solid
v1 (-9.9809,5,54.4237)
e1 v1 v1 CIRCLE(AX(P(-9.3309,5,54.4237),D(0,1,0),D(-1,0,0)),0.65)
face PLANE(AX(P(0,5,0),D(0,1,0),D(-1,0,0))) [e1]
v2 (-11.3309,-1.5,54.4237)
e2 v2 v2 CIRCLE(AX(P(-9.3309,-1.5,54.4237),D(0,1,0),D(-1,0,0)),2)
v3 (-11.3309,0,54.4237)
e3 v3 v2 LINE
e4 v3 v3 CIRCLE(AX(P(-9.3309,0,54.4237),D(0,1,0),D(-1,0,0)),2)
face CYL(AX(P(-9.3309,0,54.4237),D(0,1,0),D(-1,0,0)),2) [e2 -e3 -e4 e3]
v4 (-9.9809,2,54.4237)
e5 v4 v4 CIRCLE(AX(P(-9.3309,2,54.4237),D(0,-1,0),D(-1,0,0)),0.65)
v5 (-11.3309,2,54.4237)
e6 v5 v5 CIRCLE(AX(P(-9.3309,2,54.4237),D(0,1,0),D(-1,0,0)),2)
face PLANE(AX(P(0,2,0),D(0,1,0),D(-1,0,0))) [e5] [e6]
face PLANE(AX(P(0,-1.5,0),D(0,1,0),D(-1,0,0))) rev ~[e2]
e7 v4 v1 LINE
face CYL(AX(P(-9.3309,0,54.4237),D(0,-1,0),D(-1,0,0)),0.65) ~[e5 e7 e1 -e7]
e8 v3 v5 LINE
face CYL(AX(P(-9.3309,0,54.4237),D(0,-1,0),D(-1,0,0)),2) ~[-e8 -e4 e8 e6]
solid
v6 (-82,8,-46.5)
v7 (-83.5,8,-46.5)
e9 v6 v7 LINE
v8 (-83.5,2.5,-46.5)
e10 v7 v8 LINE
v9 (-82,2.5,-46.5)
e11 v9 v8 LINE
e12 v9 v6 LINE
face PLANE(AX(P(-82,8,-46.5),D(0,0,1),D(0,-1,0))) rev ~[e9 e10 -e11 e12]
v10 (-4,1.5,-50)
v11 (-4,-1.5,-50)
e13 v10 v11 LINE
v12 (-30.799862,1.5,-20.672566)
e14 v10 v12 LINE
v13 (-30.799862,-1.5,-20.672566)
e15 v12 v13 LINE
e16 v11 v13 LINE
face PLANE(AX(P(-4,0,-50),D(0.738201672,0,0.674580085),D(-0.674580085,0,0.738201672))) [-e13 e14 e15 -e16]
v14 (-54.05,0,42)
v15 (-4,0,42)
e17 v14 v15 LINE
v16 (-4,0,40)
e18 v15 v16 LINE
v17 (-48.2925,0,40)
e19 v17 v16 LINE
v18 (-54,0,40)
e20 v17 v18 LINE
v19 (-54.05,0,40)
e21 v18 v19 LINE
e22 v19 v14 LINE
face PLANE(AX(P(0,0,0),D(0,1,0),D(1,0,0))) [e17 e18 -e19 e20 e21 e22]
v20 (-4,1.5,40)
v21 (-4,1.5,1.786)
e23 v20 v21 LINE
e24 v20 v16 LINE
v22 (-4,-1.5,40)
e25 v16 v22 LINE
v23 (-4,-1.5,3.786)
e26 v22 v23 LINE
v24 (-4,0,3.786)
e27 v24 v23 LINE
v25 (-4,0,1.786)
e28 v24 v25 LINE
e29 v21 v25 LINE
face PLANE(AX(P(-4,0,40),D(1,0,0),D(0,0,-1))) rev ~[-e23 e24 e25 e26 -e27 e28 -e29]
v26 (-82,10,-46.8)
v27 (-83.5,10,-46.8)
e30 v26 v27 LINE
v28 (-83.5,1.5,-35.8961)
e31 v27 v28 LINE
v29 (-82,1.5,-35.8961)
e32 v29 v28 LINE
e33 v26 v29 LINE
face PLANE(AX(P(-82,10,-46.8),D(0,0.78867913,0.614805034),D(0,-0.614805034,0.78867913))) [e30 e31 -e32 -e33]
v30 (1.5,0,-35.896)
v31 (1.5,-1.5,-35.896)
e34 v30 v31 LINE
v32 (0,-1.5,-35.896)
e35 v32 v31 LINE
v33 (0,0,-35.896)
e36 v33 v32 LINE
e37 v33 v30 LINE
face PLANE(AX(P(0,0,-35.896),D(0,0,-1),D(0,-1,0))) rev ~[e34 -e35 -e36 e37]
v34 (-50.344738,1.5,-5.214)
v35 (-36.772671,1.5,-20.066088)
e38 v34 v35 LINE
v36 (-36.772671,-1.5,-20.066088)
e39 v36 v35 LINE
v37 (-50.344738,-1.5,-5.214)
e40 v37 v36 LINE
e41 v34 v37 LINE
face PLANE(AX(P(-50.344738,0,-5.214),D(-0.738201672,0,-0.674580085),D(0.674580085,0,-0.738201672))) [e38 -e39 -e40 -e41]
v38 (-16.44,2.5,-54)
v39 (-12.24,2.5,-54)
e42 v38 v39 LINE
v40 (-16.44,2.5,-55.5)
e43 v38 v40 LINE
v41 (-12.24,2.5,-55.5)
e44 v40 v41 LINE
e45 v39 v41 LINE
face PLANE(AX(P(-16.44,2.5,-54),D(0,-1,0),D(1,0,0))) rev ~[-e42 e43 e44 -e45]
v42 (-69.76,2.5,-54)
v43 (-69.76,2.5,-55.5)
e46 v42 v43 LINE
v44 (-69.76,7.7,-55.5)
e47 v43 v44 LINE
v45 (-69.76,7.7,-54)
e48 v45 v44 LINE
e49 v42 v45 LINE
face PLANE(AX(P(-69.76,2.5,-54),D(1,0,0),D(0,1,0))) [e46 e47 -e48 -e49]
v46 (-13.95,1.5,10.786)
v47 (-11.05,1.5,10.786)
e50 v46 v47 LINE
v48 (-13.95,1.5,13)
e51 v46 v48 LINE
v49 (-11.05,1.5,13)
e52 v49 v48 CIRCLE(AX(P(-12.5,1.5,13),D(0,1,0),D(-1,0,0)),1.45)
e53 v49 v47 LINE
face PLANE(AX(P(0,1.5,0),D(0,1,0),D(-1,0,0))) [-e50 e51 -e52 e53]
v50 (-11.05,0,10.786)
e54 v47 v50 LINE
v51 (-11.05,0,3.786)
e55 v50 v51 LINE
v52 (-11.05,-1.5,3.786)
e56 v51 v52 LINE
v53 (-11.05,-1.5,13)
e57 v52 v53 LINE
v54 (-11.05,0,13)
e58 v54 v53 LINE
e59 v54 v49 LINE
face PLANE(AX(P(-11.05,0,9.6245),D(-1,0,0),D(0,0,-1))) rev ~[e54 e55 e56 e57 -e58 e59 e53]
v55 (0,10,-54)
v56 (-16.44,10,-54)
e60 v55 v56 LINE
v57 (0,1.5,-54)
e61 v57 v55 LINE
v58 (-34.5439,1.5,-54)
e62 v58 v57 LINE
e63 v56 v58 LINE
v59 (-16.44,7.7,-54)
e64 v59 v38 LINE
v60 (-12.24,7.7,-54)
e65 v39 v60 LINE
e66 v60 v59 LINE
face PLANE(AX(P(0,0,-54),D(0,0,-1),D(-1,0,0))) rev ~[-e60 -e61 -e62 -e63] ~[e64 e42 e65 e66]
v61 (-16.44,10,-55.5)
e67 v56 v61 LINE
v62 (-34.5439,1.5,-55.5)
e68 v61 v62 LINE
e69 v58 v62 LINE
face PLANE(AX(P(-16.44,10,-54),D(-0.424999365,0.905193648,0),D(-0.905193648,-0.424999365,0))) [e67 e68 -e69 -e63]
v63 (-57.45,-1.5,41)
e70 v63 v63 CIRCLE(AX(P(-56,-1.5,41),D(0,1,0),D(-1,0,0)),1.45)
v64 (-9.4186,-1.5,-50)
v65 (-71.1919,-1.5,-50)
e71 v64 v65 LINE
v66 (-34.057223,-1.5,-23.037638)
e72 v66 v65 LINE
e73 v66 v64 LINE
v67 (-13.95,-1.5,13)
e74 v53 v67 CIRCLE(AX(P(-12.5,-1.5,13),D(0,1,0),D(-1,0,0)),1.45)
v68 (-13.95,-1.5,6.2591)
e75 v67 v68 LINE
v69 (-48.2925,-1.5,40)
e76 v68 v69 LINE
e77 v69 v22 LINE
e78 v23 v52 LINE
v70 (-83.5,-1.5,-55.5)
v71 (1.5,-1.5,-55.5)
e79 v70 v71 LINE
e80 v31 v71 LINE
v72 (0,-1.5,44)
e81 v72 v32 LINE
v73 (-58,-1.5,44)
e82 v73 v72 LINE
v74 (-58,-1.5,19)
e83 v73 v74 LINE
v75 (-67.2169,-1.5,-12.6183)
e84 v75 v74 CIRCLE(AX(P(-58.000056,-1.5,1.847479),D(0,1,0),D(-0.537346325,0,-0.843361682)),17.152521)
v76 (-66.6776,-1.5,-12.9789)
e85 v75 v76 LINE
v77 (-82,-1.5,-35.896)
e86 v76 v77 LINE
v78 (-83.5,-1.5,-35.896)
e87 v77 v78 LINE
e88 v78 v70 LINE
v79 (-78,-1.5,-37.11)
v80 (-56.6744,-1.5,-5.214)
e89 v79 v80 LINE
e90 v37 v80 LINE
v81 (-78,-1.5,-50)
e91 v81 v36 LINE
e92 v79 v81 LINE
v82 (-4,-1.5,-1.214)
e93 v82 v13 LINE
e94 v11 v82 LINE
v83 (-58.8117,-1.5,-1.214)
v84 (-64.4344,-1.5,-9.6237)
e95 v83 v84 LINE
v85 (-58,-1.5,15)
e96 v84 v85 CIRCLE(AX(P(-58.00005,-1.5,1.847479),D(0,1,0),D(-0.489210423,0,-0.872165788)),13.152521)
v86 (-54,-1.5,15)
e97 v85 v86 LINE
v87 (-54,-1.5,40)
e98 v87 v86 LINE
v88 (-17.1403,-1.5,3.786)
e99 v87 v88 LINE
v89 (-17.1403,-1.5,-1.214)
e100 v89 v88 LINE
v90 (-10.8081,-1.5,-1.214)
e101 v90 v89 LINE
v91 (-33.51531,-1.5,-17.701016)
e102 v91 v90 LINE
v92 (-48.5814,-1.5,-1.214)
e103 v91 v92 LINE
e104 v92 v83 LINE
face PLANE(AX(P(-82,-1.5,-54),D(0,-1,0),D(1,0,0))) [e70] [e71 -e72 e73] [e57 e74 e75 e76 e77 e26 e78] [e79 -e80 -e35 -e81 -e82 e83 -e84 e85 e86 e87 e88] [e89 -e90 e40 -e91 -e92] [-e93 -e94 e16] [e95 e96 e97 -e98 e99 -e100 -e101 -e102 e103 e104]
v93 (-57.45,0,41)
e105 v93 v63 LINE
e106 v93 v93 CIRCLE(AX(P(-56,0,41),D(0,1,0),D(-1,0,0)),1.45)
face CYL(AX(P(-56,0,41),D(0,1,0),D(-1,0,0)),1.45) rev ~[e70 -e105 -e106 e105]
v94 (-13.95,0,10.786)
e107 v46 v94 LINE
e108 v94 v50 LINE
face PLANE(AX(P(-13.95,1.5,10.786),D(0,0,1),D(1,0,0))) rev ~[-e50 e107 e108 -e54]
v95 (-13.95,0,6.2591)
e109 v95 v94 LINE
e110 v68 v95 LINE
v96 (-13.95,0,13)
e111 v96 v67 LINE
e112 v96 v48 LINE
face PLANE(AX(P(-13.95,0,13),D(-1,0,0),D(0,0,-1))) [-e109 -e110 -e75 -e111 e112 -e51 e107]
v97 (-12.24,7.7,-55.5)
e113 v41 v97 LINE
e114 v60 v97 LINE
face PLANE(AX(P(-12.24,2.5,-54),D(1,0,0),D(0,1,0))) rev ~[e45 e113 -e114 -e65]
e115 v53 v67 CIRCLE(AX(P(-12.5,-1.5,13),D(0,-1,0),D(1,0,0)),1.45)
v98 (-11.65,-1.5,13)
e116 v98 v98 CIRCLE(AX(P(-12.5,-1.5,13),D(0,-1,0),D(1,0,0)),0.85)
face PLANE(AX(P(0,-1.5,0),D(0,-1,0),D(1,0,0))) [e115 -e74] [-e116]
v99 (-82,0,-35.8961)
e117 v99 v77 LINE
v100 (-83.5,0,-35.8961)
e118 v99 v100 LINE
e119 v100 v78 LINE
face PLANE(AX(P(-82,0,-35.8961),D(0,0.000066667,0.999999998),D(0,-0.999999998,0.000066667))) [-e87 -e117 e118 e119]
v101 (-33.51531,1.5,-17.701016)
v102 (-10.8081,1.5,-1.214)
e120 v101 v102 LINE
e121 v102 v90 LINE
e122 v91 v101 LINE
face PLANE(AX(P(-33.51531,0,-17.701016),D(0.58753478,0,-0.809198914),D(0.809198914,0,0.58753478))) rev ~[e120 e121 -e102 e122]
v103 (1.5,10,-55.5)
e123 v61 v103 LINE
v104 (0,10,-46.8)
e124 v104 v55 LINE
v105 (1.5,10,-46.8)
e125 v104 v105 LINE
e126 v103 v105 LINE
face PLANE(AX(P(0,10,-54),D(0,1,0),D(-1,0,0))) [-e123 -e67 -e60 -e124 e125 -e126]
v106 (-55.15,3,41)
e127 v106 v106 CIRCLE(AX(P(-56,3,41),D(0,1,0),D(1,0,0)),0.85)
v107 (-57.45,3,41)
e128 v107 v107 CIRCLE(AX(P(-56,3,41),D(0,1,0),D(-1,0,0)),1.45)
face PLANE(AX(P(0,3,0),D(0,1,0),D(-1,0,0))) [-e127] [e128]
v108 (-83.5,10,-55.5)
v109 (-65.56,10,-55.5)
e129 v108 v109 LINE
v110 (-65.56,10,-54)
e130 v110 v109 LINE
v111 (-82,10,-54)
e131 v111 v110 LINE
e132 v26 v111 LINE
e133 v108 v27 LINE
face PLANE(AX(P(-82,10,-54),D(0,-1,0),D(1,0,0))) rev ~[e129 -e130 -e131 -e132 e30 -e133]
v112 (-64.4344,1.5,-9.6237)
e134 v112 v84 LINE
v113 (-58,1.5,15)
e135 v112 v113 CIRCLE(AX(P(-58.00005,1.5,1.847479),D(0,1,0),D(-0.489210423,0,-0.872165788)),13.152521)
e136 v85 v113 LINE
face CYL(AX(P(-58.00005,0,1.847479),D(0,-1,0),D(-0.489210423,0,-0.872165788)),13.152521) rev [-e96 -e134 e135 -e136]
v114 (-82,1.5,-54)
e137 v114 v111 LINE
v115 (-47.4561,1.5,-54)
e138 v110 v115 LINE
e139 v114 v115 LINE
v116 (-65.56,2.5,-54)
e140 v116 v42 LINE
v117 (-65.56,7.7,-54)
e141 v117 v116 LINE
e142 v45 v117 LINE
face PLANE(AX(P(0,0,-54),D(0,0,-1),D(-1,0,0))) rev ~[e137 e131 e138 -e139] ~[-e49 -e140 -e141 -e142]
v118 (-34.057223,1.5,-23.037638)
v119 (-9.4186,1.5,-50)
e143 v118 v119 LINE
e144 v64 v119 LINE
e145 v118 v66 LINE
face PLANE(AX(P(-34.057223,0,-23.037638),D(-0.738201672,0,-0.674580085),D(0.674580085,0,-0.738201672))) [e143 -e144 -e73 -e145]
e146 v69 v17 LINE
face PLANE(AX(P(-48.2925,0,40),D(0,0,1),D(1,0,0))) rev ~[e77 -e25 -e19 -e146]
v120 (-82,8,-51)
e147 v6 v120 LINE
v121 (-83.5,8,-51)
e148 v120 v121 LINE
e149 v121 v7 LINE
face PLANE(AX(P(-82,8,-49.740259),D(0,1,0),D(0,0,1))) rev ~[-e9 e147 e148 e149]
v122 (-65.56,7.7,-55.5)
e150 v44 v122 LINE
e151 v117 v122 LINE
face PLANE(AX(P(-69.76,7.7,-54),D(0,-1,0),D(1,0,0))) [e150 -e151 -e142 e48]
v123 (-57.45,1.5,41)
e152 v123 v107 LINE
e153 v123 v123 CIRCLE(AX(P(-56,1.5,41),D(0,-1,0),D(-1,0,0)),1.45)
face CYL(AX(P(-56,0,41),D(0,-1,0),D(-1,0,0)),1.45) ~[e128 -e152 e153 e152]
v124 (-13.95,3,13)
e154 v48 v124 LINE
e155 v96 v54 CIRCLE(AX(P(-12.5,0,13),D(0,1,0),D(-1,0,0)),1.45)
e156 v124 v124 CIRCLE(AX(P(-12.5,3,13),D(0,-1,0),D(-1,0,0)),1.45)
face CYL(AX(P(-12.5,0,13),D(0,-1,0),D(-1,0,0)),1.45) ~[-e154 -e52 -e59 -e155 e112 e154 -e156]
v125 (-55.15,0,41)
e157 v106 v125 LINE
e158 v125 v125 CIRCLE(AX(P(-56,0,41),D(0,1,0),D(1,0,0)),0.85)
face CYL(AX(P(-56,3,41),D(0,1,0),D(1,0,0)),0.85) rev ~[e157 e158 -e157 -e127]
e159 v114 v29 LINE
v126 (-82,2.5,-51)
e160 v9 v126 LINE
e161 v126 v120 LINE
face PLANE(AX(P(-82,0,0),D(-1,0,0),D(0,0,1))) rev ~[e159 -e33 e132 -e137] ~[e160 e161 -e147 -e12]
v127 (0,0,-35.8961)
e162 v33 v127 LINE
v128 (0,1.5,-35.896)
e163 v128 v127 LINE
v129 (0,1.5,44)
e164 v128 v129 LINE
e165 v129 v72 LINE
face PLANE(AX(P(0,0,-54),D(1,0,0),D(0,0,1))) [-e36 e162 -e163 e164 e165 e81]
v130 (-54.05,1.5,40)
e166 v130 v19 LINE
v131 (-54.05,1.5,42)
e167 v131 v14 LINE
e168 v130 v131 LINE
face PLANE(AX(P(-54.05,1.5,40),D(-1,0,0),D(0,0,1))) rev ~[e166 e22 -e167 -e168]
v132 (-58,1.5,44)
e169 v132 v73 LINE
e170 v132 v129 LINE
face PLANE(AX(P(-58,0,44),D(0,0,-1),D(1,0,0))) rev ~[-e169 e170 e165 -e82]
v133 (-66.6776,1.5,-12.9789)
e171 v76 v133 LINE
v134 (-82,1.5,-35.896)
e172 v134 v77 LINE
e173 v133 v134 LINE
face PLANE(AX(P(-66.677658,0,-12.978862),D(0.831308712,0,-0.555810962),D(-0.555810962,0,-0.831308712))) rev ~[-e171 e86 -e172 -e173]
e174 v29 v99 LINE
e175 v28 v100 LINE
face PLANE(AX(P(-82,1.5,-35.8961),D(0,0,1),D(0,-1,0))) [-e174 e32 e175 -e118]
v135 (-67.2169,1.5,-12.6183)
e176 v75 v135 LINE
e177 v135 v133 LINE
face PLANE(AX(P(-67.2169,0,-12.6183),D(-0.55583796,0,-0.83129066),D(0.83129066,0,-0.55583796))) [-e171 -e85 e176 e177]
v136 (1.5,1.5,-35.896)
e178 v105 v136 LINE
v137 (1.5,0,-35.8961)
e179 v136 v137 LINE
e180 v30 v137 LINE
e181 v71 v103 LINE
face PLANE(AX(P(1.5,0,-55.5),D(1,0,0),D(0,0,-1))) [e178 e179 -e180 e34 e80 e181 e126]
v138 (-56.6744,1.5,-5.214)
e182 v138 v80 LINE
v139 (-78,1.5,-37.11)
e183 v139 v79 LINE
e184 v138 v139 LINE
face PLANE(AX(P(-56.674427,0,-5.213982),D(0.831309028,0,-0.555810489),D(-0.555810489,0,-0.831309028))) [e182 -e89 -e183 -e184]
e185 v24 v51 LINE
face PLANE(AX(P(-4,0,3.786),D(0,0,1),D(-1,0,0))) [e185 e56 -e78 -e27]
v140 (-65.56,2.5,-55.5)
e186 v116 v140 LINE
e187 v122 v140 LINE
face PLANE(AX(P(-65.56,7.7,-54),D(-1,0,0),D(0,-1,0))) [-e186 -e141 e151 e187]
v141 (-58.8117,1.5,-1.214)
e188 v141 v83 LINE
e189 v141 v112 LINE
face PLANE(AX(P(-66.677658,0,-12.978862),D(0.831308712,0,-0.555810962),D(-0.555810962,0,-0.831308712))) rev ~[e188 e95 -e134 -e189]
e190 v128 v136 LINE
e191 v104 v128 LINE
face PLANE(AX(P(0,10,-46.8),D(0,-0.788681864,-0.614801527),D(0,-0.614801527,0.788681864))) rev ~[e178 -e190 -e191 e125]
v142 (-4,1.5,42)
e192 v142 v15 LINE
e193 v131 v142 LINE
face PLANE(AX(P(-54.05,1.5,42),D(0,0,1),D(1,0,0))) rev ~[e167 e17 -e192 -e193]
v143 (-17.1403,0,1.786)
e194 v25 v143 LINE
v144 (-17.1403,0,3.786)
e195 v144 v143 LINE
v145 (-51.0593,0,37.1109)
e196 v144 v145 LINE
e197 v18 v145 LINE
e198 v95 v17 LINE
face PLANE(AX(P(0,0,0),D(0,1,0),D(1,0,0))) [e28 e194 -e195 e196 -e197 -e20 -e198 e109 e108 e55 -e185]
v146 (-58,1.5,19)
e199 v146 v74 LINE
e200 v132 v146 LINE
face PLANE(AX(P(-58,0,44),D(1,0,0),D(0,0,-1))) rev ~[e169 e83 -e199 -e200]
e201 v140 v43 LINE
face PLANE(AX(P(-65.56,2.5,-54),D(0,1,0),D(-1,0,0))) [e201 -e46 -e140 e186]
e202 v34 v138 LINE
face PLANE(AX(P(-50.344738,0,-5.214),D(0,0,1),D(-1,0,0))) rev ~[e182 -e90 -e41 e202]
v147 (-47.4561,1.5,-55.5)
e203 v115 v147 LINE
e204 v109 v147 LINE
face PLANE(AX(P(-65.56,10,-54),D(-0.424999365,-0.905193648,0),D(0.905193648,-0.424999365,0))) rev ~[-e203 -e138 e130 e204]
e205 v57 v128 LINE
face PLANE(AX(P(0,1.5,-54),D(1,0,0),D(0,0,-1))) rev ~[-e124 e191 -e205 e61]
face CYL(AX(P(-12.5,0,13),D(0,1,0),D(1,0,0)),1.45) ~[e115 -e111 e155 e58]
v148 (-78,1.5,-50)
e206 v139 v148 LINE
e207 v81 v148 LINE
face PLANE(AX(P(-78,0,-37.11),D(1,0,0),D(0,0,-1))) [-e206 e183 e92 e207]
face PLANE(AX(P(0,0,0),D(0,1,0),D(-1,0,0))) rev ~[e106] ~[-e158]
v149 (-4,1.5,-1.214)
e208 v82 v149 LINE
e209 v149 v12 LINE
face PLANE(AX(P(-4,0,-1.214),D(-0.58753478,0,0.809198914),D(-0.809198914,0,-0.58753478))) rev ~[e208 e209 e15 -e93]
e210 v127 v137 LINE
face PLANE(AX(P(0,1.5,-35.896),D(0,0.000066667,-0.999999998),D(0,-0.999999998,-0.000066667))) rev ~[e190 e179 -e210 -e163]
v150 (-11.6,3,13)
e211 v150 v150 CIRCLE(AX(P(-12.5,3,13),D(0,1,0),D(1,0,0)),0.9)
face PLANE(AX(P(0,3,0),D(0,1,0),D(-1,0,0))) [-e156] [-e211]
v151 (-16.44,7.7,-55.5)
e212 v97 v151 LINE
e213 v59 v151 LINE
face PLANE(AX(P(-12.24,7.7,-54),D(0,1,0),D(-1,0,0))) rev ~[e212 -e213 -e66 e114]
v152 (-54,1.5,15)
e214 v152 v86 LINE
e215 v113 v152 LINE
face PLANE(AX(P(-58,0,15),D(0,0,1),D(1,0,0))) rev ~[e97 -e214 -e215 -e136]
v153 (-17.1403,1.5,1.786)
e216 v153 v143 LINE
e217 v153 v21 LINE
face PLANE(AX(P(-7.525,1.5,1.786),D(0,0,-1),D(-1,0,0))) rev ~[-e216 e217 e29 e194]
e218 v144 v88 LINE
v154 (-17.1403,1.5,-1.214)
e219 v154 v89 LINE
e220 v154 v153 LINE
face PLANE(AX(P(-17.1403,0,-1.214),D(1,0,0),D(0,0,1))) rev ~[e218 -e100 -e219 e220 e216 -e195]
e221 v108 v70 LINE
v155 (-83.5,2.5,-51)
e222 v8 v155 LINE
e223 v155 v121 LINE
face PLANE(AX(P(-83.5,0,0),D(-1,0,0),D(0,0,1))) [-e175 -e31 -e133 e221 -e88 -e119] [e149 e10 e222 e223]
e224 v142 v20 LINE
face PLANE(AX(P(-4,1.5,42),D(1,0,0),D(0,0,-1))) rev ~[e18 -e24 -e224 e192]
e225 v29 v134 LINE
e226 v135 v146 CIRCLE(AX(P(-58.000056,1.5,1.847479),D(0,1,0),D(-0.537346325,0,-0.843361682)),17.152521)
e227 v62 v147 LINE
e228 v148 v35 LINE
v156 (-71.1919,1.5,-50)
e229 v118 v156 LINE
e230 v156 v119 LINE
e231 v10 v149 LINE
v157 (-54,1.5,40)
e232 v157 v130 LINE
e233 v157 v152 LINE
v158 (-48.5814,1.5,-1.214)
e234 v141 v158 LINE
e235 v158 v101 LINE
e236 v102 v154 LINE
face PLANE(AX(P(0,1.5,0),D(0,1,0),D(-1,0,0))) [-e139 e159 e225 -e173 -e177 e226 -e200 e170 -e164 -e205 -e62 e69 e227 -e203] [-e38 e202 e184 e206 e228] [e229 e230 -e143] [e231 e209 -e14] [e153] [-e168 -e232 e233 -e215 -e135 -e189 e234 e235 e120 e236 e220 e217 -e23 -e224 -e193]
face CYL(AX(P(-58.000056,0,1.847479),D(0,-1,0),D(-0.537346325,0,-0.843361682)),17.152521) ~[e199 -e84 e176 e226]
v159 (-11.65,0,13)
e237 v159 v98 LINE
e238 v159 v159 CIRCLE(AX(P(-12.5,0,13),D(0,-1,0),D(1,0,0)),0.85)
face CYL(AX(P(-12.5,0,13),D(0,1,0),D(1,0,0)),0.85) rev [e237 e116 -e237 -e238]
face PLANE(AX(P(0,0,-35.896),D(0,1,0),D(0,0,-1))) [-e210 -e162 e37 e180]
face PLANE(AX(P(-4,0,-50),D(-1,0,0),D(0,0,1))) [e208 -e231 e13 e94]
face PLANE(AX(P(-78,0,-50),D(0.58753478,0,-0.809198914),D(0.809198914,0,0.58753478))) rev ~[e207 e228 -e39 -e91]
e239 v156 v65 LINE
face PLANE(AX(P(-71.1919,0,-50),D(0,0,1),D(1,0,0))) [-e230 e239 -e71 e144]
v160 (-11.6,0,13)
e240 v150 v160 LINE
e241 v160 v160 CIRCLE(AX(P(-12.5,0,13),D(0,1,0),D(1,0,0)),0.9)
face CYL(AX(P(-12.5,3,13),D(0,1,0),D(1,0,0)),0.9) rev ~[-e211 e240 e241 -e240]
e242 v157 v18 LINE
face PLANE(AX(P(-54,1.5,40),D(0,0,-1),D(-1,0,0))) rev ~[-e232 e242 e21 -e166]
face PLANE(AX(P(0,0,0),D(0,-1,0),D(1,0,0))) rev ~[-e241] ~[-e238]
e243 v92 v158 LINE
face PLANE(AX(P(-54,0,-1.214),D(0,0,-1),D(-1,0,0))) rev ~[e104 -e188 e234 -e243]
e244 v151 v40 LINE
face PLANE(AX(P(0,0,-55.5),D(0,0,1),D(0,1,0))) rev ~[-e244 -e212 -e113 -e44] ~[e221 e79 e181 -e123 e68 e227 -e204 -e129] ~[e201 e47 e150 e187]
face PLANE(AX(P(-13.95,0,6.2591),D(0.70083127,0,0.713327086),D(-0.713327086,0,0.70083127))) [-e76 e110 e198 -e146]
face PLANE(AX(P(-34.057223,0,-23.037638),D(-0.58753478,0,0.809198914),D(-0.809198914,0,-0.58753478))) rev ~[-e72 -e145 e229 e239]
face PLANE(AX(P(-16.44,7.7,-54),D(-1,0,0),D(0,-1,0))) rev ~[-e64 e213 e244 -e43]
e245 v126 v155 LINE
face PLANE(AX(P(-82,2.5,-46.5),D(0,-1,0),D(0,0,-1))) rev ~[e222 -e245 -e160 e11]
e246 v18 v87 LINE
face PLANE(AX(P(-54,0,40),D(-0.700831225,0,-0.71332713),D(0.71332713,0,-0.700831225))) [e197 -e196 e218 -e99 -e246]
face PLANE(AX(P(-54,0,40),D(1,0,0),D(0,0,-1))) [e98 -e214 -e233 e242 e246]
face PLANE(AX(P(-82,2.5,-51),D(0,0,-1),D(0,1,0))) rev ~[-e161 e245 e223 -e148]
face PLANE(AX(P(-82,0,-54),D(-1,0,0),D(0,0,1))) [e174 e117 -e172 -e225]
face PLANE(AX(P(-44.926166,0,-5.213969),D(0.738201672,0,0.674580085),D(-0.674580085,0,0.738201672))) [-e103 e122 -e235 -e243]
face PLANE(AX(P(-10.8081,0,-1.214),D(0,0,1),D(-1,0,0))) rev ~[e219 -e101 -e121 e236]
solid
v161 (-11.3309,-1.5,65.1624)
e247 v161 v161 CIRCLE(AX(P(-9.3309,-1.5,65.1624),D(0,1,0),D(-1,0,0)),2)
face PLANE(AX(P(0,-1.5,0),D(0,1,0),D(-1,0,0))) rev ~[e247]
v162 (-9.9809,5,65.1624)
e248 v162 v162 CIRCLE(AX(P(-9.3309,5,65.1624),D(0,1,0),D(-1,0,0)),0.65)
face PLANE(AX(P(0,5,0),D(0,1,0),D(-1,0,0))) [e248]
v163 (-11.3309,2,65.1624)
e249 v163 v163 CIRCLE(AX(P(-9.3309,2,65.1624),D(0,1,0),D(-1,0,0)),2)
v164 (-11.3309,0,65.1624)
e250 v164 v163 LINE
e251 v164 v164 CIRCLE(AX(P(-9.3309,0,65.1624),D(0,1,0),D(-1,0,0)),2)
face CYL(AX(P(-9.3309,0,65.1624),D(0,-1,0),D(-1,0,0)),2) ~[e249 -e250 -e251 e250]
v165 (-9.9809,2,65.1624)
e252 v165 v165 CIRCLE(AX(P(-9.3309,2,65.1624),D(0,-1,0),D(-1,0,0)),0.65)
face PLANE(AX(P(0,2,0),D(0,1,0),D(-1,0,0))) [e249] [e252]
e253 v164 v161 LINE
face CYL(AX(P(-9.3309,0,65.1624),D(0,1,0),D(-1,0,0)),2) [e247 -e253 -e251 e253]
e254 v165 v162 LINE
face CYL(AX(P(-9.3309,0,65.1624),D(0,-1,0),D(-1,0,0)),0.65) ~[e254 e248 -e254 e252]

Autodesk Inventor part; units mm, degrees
ref_plane "YZ Plane" through (0, 0, 0) normal (1, 0, 0) x (0, 1, 0)
ref_plane "XZ Plane" through (0, 0, 0) normal (0, 1, 0) x (-1, 0, 0)
ref_plane "XY Plane" through (0, 0, 0) normal (0, 0, 1) x (1, 0, 0)
sketch "Sketch1" plane through (0, 0, 0) normal (0, 1, 0) x (-1, 0, 0)
  line L0 (82, -54) -> (0, -54)
  line L1 (0, -54) -> (0, 0)
  line L2 (58, 44) -> (0, 44)
  line L3 (0, 44) -> (0, 0)
  circle A0 centre (56, 41) radius 1.45
  circle A1 centre (12.5, 13) radius 1.45
  line L4 (82, -54) -> (82, -35.896)
  line L5 (54.6748, -2.2232) -> (78, -37.11)
  line L6 (78, -37.11) -> (78, -50)
  line L7 (78, -50) -> (4, -50)
  line L8 (4, -50) -> (4, 0)
  line L9 (54, 40) -> (4, 40)
  line L10 (4, 40) -> (4, 0)
  line L11 (54.6748, -2.2232) -> (54, -1.214)
  line L12 (54, -1.214) -> (9.4186, -50)
  line L13 (4, -50) -> (48.5814, -1.214)
  line L14 (78, -50) -> (10.8081, -1.214)
  line L15 (4, -1.214) -> (71.1919, -50)
  line L16 (11.05, 13) -> (11.05, 9.6245)
  line L17 (13.95, 13) -> (13.95, 12.0261)
  line L18 (11.05, 9.6245) -> (11.05, 3.786)
  line L19 (13.95, 12.0261) -> (13.95, 3.786)
  line L20 (54, 40) -> (17.1403, 3.786)
  line L21 (13.95, 6.2591) -> (48.2925, 40)
  line L22 (3.6116, 3.786) -> (17.1403, 3.786)
  line L23 (4, -1.214) -> (17.1403, -1.214)
  line L24 (17.1403, -1.214) -> (17.1403, 3.786)
  line L25 (48.5814, -1.214) -> (54, -1.214)
  line L26 (44.9262, -5.214) -> (56.6744, -5.214)
  line L27 (58, 44) -> (58, 15)
  line L28 (58, 15) -> (54, 15)
  line L29 (54, 40) -> (54, 15)
  line L30 (54, -1.214) -> (58.8117, -1.214)
  line L31 (58.8117, -1.214) -> (82, -35.896)
  arc A2 (64.4344, -9.6237) -> (58, 15) centre (58, 1.8475) ccw
  arc A3 (67.2169, -12.6183) -> (58, 19) centre (58, 1.8475) ccw
  line L32 (67.2169, -12.6183) -> (66.6776, -12.9789)
  point P0 (4, 0)
  point P1 (4, 2.786)
  point P2 (54, 2.786)
  point P3 (10.2713, 40)
  point P4 (10.2713, 2.786)
  point P5 (47.7287, 40)
  point P6 (33.5153, -17.701)
  point P7 (30.7999, -20.6726)
  point P8 (34.0572, -23.0376)
  point P9 (36.7727, -20.0661)
  point P10 (13.95, 40)
  point P11 (19.4764, 40)
  point P12 (4, 3.786)
  point P13 (11.05, 3.786)
  point P14 (10.8081, -1.214)
  point P15 (50.3447, -5.214)
  point P16 (67.0734, -13.5707)
  dimension "d0" = 82
  dimension "d1" = 54
  dimension "d2" = 44
  dimension "d5" = 3
  dimension "d6" = 2.9
  dimension "d8" = 12.5
  dimension "d9" = 2.9
  dimension "d36" = 18.104
  dimension "d94" = 90
  dimension "d95" = 90
  dimension "d96" = 31
  dimension "d97" = 4
  dimension "d98" = 4
  dimension "d103" = 4
  dimension "d104" = 4
  dimension "d112" = 4
  dimension "d113" = 44.494
  dimension "d121" = 134.494
  dimension "d122" = 135.506
  dimension "d123" = 13.5287
  dimension "d124" = 13.1403
  dimension "d125" = 90
  dimension "d126" = 54.018
  dimension "d127" = 42.422
  dimension "d128" = 4
  dimension "d129" = 4
  dimension "d130" = 146.233
  dimension "d131" = 11.7482
  dimension "d132" = 25
  dimension "d133" = 51.673
  dimension "d134" = 4
  dimension "d140" = 2
  dimension "d141" = 17.1526
  dimension "d155" = 58
extrude "Extrusion1" add sketch "Sketch1" along normal blind 1.5 contours L0 L1 L3 L2 L27 L28 L29 L9 L10 L8 L7 L6 L5 L11 L30 L31 L4 | L31 A2 L27 A3 L32 | L11 L5 L26 L12 | L12 L26 L13 L25 | L12 L14 L13 L26 | L20 L22 L19 L21 L9 | L14 L7 L15 L12 | L12 L15 L13 L14 | L24 L23 L8 L10 L22 | L12 L7 L13 L15 | L13 L15 L23 L14 | L19 L22 L18 L16 A1 L17 | A0
sketch "Sketch2" plane through (0, 0, -54) normal (0, 0, -1) x (-1, 0, 0)
  line L0 (58, 0) -> (0, 0) projected
  line L1 (0, 0) -> (82, 0)
  line L2 (0, 10) -> (0, 0)
  line L3 (12.24, 7.7) -> (16.44, 7.7)
  line L4 (16.44, 7.7) -> (16.44, 2.5)
  line L5 (16.44, 2.5) -> (12.24, 2.5)
  line L6 (12.24, 2.5) -> (12.24, 7.7)
  line L7 (0, 1.5) -> (82, 1.5) projected
  line L8 (41, 10) -> (41, 0) construction
  line L9 (0, 10) -> (16.44, 10)
  line L10 (16.44, 10) -> (34.5439, 1.5)
  line L11 (58, 1.5) -> (0, 1.5) projected
  line L12 (24, 0) -> (82, 0)
  line L13 (82, 0) -> (0, 0)
  line L14 (82, 10) -> (82, 0)
  line L15 (69.76, 7.7) -> (65.56, 7.7)
  line L16 (65.56, 7.7) -> (65.56, 2.5)
  line L17 (65.56, 2.5) -> (69.76, 2.5)
  line L18 (69.76, 2.5) -> (69.76, 7.7)
  line L19 (82, 1.5) -> (0, 1.5)
  line L20 (82, 10) -> (65.56, 10)
  line L21 (65.56, 10) -> (47.4561, 1.5)
  line L22 (24, 1.5) -> (82, 1.5)
  line L23 (0, 0) -> (0, 1.5) projected
  line L24 (0, 0) -> (82, 0)
  line L25 (82, 0) -> (82, -1.5)
  line L26 (82, -1.5) -> (0, -1.5)
  line L27 (0, -1.5) -> (0, 0)
  point P0 (47.4561, 1.5)
  dimension "d13" = 10
  dimension "d14" = 12.24
  dimension "d16" = 4.2
  dimension "d17" = 5.2
  dimension "d18" = 1
  dimension "d34" = 20
  dimension "d35" = 16.44
  dimension "d137" = 1.5
extrude "Extrusion2" add sketch "Sketch2" along normal blind 1.5
sketch "Sketch4" plane through (0, 1.5, -54) normal (1, 0, 0) x (0, 0, -1)
  line L0 (0, 0) -> (0, 8.5) projected
  line L1 (-98, 0) -> (0, 0) projected
  line L2 (-18.104, 0) -> (-18.104, -1.5)
  line L3 (-98, -1.5) -> (0, -1.5) projected
  line L4 (0, 8.5) -> (1.5, 8.5) projected
  line L5 (0, 8.5) -> (-7.2, 8.5)
  line L6 (0, 0) -> (-18.104, 0) projected
  line L7 (-7.2, 8.5) -> (-18.104, 0)
  line L8 (0, -1.5) -> (-18.104, -1.5) projected
  line L9 (-18.104, -1.5) -> (1.5, -1.5)
  line L10 (0, 0) -> (1.5, 0) projected
  line L11 (1.5, -1.5) -> (1.5, 0)
  line L12 (1.5, 0) -> (-18.104, 0)
  line L13 (1.5, 0) -> (1.5, 8.5)
  line L14 (0, 8.5) -> (1.5, 8.5) projected
  line L15 (1.5, 8.5) -> (0, 8.5)
  line L16 (-18.104, -1.5) -> (-18.104, 0) projected
  line L17 (-18.104, -1.5) -> (-18.104, -3)
  line L18 (-18.104, -3) -> (1.5, -3)
  line L19 (1.5, -3) -> (1.5, -1.5)
  point P0 (-54, -1.5)
  dimension "d135" = 7.2
  dimension "d136" = 1.5
extrude "Extrusion3" add sketch "Sketch4" along normal blind 1.5 contours L1 L7 L5 L0 | L0 L4 L13 L10 | L3 L9 L19 L18 L17
sketch "Sketch6" plane through (0, 0, -55.5) normal (1, 0, 0) x (0, 0, -1)
  line L0 (-99.5, 1.5) -> (-19.604, 1.5) projected
  line L1 (-19.6039, 1.5) -> (-19.6039, 0)
  line L2 (-99.5, 0) -> (-19.604, 0) projected
  line L3 (-19.6039, 0) -> (0, 0)
  line L4 (-1.5, 10) -> (0, 10) projected
  line L5 (0, 0) -> (0, 10)
  line L6 (-19.6039, 1.5) -> (-1.5, 1.5)
  line L7 (-1.5, 1.5) -> (-1.5, 10) projected
  line L8 (-1.5, 10) -> (-1.5, 1.5)
  line L9 (0, 10) -> (-1.5, 10)
  point P0 (-55.5, 0)
  point P1 (-1.5, 0)
  point P2 (-1.5, 0)
extrude "Extrusion4" add sketch "Sketch6" along normal blind 1.5
sketch "Sketch7" plane through (-82, 0, 0) normal (-1, 0, 0) x (0, 0, 1)
  line L0 (-54, 10) -> (-35.8961, 1.5)
  line L1 (-35.8961, 1.5) -> (-35.8961, 0)
  line L2 (0, 0) -> (-55.5, 0) projected
  line L3 (-35.8961, 0) -> (-55.5, 0)
  line L4 (-55.5, 0) -> (-55.5, 10)
  line L5 (-55.5, 10) -> (-54, 10)
  line L6 (-51, 8) -> (-46.5, 8)
  line L7 (-46.5, 8) -> (-46.5, 2.5)
  line L8 (-46.5, 2.5) -> (-51, 2.5)
  line L9 (-51, 2.5) -> (-51, 8)
  line L10 (-54, 1.5) -> (0, 1.5) projected
  line L11 (-54, 10) -> (-46.8, 10)
  line L12 (-35.896, 1.5) -> (-35.8961, 1.5) projected
  line L13 (-46.8, 10) -> (-35.8961, 1.5)
  line L14 (-55.5, 0) -> (-35.896, 0)
  line L15 (-35.896, 0) -> (-35.896, -1.5)
  line L16 (-35.896, -1.5) -> (-55.5, -1.5)
  line L17 (-55.5, -1.5) -> (-55.5, 0)
  point P0 (-54, 0)
  point P1 (-54, 0)
  dimension "d26" = 4.5
  dimension "d27" = 4.5
  dimension "d28" = 5.5
  dimension "d29" = 1
  dimension "d30" = 13.8255
extrude "Extrusion5" add sketch "Sketch7" along normal blind 1.5 contours L11 L13 L0 L7 L6 | L0 L6 L9 L8 L7 L1 L2 L4 L5 | L2 L15 L16 L17
extrude "Extrusion6" add sketch "Sketch1" along normal blind 3 contours A1 | A0
sketch "Sketch15" plane through (-56, 3, 41) normal (0, 1, 0) x (1, 0, 0)
  circle A0 centre (0, 0) radius 1.45 projected
  circle A1 centre (0, 0) radius 0.85
  arc A2 (42.05, 28) -> (44.95, 28) centre (43.5, 28) ccw projected
  circle A3 centre (43.5, 28) radius 0.9
  point P0 (56, 41)
  dimension "d76" = 1.7
  dimension "d110" = 1.8
extrude "Extrusion10" cut sketch "Sketch15" against normal up to surface (3 mm away) contours A1 | A3
sketch "Sketch16" plane through (0, 0, 0) normal (0, 1, 0) x (-1, 0, 0)
  circle A0 centre (9.3309, 54.4237) radius 2
  circle A1 centre (9.3309, 54.4237) radius 0.65
  line L0 (58, 44) -> (0, 44) projected
  line L1 (7.831, 59.7931) -> (15.9352, 59.7931) construction
  circle A2 centre (9.3309, 65.1624) radius 2
  circle A3 centre (9.3309, 65.1624) radius 0.65
  point P0 (0, 0)
  dimension "d80" = 4
  dimension "d81" = 1.3
extrude "Extrusion11" add sketch "Sketch16" along normal blind 2 contours A2 | A3
extrude "Extrusion12" add sketch "Sketch16" along normal blind 2 contours A0 | A1
extrude "Extrusion13" add sketch "Sketch16" along normal blind 5 contours A1 | A3
extrude "Extrusion14" add sketch "Sketch1" against normal blind 1.5 contours L31 A2 L27 A3 L32 | L11 L5 L26 L12 | L12 L26 L13 L25 | L12 L14 L13 L26 | L20 L22 L19 L21 L9 | L14 L7 L15 L12 | L12 L15 L13 L14 | L24 L23 L8 L10 L22 | L12 L7 L13 L15 | L13 L15 L23 L14 | L19 L22 L18 L16 A1 L17
extrude "Extrusion15" [suppressed]
extrude "Extrusion16" add sketch "Sketch1" against normal blind 1.5 contours L0 L1 L3 L2 L27 L28 L29 L9 L10 L8 L7 L6 L5 L11 L30 L31 L4 | L12 L26 L13 L25 | L12 L14 L13 L26 | L20 L22 L19 L21 L9 | L12 L15 L13 L14 | L24 L23 L8 L10 L22 | L12 L7 L13 L15 | L13 L15 L23 L14 | L19 L22 L18 L16 A1 L17
sketch "Sketch24" plane through (0, 0, 0) normal (0, -1, 0) x (1, 0, 0)
  point P0 (0, 0)
extrude "Extrusion17" add sketch "Sketch16" against normal blind 1.5 contours A0 | A1 | A2 | A3
sketch "Sketch25" plane through (0, 1.5, 0) normal (0, 1, 0) x (1, 0, 0)
  line L0 (-4, -3.786) -> (-4, -40) projected
  line L1 (-4, -3.786) -> (-4, -1.786)
  line L2 (-4, -1.786) -> (-7.525, -1.786)
  line L3 (-11.05, -3.786) -> (-4, -3.786) projected
  line L4 (-7.525, -1.786) -> (-17.1403, -1.786)
  line L5 (-17.1403, -3.786) -> (-17.1403, 1.214) projected
  line L6 (-17.1403, -1.786) -> (-17.1403, -3.786)
  line L7 (-17.1403, -3.786) -> (-51.0593, -37.1109)
  line L8 (-54, -40) -> (-17.1403, -3.786) projected
  line L9 (-48.2925, -40) -> (-13.95, -6.2591) projected
  line L10 (-48.256, -39.9642) -> (-13.95, -6.2591)
  line L11 (-13.95, -6.2591) -> (-13.95, -10.786)
  line L12 (-13.95, -6.2591) -> (-13.95, -13) projected
  line L13 (-13.95, -10.786) -> (-11.05, -10.786)
  line L14 (-11.05, -13) -> (-11.05, -3.786) projected
  line L15 (-11.05, -10.786) -> (-11.05, -3.786)
  line L16 (-11.05, -3.786) -> (-7.525, -3.786)
  line L17 (-4, -3.786) -> (-7.525, -3.786)
  line L18 (-51.0593, -37.1109) -> (-54, -40)
  line L19 (-54, -15) -> (-54, -40) projected
  line L20 (-48.2925, -40) -> (-54, -40)
  point P0 (0, 0)
  dimension "d142" = 2
  dimension "d143" = 45.506
  dimension "d144" = 7
extrude "Extrusion18" cut sketch "Sketch25" against normal blind 1.5
sketch "Sketch26" plane through (0, 0, 0) normal (0, -1, 0) x (1, 0, 0)
  arc A0 (-11.05, 13) -> (-13.95, 13) centre (-12.5, 13) ccw projected
  circle A1 centre (-12.5, 13) radius 1.45
  circle A2 centre (-12.5, 13) radius 0.85
  point P0 (0, 0)
extrude "Extrusion19" add sketch "Sketch26" along normal blind 1.5
sketch "Sketch27" plane through (0, 1.5, 0) normal (0, 1, 0) x (1, 0, 0)
  line L0 (-48.2925, -40) -> (-4, -40) projected
  line L1 (-4, -40) -> (-54.05, -40)
  line L2 (-54.05, -40) -> (-54.05, -42)
  line L3 (-54.05, -42) -> (-4, -42)
  line L4 (-4, -42) -> (-4, -40)
  line L5 (-54, -40) -> (-54, -15) projected
  circle A0 centre (-56, -41) radius 1.45 projected
  point P0 (0, 0)
  dimension "d150" = 2
  dimension "d154" = 0.5
extrude "Extrusion20" cut sketch "Sketch27" against normal blind 1.5 contours L0 L4 L3 L2 L1
properties part number "OscarNoring240sSkalV.1Microdator" material "PBT Plastic"
